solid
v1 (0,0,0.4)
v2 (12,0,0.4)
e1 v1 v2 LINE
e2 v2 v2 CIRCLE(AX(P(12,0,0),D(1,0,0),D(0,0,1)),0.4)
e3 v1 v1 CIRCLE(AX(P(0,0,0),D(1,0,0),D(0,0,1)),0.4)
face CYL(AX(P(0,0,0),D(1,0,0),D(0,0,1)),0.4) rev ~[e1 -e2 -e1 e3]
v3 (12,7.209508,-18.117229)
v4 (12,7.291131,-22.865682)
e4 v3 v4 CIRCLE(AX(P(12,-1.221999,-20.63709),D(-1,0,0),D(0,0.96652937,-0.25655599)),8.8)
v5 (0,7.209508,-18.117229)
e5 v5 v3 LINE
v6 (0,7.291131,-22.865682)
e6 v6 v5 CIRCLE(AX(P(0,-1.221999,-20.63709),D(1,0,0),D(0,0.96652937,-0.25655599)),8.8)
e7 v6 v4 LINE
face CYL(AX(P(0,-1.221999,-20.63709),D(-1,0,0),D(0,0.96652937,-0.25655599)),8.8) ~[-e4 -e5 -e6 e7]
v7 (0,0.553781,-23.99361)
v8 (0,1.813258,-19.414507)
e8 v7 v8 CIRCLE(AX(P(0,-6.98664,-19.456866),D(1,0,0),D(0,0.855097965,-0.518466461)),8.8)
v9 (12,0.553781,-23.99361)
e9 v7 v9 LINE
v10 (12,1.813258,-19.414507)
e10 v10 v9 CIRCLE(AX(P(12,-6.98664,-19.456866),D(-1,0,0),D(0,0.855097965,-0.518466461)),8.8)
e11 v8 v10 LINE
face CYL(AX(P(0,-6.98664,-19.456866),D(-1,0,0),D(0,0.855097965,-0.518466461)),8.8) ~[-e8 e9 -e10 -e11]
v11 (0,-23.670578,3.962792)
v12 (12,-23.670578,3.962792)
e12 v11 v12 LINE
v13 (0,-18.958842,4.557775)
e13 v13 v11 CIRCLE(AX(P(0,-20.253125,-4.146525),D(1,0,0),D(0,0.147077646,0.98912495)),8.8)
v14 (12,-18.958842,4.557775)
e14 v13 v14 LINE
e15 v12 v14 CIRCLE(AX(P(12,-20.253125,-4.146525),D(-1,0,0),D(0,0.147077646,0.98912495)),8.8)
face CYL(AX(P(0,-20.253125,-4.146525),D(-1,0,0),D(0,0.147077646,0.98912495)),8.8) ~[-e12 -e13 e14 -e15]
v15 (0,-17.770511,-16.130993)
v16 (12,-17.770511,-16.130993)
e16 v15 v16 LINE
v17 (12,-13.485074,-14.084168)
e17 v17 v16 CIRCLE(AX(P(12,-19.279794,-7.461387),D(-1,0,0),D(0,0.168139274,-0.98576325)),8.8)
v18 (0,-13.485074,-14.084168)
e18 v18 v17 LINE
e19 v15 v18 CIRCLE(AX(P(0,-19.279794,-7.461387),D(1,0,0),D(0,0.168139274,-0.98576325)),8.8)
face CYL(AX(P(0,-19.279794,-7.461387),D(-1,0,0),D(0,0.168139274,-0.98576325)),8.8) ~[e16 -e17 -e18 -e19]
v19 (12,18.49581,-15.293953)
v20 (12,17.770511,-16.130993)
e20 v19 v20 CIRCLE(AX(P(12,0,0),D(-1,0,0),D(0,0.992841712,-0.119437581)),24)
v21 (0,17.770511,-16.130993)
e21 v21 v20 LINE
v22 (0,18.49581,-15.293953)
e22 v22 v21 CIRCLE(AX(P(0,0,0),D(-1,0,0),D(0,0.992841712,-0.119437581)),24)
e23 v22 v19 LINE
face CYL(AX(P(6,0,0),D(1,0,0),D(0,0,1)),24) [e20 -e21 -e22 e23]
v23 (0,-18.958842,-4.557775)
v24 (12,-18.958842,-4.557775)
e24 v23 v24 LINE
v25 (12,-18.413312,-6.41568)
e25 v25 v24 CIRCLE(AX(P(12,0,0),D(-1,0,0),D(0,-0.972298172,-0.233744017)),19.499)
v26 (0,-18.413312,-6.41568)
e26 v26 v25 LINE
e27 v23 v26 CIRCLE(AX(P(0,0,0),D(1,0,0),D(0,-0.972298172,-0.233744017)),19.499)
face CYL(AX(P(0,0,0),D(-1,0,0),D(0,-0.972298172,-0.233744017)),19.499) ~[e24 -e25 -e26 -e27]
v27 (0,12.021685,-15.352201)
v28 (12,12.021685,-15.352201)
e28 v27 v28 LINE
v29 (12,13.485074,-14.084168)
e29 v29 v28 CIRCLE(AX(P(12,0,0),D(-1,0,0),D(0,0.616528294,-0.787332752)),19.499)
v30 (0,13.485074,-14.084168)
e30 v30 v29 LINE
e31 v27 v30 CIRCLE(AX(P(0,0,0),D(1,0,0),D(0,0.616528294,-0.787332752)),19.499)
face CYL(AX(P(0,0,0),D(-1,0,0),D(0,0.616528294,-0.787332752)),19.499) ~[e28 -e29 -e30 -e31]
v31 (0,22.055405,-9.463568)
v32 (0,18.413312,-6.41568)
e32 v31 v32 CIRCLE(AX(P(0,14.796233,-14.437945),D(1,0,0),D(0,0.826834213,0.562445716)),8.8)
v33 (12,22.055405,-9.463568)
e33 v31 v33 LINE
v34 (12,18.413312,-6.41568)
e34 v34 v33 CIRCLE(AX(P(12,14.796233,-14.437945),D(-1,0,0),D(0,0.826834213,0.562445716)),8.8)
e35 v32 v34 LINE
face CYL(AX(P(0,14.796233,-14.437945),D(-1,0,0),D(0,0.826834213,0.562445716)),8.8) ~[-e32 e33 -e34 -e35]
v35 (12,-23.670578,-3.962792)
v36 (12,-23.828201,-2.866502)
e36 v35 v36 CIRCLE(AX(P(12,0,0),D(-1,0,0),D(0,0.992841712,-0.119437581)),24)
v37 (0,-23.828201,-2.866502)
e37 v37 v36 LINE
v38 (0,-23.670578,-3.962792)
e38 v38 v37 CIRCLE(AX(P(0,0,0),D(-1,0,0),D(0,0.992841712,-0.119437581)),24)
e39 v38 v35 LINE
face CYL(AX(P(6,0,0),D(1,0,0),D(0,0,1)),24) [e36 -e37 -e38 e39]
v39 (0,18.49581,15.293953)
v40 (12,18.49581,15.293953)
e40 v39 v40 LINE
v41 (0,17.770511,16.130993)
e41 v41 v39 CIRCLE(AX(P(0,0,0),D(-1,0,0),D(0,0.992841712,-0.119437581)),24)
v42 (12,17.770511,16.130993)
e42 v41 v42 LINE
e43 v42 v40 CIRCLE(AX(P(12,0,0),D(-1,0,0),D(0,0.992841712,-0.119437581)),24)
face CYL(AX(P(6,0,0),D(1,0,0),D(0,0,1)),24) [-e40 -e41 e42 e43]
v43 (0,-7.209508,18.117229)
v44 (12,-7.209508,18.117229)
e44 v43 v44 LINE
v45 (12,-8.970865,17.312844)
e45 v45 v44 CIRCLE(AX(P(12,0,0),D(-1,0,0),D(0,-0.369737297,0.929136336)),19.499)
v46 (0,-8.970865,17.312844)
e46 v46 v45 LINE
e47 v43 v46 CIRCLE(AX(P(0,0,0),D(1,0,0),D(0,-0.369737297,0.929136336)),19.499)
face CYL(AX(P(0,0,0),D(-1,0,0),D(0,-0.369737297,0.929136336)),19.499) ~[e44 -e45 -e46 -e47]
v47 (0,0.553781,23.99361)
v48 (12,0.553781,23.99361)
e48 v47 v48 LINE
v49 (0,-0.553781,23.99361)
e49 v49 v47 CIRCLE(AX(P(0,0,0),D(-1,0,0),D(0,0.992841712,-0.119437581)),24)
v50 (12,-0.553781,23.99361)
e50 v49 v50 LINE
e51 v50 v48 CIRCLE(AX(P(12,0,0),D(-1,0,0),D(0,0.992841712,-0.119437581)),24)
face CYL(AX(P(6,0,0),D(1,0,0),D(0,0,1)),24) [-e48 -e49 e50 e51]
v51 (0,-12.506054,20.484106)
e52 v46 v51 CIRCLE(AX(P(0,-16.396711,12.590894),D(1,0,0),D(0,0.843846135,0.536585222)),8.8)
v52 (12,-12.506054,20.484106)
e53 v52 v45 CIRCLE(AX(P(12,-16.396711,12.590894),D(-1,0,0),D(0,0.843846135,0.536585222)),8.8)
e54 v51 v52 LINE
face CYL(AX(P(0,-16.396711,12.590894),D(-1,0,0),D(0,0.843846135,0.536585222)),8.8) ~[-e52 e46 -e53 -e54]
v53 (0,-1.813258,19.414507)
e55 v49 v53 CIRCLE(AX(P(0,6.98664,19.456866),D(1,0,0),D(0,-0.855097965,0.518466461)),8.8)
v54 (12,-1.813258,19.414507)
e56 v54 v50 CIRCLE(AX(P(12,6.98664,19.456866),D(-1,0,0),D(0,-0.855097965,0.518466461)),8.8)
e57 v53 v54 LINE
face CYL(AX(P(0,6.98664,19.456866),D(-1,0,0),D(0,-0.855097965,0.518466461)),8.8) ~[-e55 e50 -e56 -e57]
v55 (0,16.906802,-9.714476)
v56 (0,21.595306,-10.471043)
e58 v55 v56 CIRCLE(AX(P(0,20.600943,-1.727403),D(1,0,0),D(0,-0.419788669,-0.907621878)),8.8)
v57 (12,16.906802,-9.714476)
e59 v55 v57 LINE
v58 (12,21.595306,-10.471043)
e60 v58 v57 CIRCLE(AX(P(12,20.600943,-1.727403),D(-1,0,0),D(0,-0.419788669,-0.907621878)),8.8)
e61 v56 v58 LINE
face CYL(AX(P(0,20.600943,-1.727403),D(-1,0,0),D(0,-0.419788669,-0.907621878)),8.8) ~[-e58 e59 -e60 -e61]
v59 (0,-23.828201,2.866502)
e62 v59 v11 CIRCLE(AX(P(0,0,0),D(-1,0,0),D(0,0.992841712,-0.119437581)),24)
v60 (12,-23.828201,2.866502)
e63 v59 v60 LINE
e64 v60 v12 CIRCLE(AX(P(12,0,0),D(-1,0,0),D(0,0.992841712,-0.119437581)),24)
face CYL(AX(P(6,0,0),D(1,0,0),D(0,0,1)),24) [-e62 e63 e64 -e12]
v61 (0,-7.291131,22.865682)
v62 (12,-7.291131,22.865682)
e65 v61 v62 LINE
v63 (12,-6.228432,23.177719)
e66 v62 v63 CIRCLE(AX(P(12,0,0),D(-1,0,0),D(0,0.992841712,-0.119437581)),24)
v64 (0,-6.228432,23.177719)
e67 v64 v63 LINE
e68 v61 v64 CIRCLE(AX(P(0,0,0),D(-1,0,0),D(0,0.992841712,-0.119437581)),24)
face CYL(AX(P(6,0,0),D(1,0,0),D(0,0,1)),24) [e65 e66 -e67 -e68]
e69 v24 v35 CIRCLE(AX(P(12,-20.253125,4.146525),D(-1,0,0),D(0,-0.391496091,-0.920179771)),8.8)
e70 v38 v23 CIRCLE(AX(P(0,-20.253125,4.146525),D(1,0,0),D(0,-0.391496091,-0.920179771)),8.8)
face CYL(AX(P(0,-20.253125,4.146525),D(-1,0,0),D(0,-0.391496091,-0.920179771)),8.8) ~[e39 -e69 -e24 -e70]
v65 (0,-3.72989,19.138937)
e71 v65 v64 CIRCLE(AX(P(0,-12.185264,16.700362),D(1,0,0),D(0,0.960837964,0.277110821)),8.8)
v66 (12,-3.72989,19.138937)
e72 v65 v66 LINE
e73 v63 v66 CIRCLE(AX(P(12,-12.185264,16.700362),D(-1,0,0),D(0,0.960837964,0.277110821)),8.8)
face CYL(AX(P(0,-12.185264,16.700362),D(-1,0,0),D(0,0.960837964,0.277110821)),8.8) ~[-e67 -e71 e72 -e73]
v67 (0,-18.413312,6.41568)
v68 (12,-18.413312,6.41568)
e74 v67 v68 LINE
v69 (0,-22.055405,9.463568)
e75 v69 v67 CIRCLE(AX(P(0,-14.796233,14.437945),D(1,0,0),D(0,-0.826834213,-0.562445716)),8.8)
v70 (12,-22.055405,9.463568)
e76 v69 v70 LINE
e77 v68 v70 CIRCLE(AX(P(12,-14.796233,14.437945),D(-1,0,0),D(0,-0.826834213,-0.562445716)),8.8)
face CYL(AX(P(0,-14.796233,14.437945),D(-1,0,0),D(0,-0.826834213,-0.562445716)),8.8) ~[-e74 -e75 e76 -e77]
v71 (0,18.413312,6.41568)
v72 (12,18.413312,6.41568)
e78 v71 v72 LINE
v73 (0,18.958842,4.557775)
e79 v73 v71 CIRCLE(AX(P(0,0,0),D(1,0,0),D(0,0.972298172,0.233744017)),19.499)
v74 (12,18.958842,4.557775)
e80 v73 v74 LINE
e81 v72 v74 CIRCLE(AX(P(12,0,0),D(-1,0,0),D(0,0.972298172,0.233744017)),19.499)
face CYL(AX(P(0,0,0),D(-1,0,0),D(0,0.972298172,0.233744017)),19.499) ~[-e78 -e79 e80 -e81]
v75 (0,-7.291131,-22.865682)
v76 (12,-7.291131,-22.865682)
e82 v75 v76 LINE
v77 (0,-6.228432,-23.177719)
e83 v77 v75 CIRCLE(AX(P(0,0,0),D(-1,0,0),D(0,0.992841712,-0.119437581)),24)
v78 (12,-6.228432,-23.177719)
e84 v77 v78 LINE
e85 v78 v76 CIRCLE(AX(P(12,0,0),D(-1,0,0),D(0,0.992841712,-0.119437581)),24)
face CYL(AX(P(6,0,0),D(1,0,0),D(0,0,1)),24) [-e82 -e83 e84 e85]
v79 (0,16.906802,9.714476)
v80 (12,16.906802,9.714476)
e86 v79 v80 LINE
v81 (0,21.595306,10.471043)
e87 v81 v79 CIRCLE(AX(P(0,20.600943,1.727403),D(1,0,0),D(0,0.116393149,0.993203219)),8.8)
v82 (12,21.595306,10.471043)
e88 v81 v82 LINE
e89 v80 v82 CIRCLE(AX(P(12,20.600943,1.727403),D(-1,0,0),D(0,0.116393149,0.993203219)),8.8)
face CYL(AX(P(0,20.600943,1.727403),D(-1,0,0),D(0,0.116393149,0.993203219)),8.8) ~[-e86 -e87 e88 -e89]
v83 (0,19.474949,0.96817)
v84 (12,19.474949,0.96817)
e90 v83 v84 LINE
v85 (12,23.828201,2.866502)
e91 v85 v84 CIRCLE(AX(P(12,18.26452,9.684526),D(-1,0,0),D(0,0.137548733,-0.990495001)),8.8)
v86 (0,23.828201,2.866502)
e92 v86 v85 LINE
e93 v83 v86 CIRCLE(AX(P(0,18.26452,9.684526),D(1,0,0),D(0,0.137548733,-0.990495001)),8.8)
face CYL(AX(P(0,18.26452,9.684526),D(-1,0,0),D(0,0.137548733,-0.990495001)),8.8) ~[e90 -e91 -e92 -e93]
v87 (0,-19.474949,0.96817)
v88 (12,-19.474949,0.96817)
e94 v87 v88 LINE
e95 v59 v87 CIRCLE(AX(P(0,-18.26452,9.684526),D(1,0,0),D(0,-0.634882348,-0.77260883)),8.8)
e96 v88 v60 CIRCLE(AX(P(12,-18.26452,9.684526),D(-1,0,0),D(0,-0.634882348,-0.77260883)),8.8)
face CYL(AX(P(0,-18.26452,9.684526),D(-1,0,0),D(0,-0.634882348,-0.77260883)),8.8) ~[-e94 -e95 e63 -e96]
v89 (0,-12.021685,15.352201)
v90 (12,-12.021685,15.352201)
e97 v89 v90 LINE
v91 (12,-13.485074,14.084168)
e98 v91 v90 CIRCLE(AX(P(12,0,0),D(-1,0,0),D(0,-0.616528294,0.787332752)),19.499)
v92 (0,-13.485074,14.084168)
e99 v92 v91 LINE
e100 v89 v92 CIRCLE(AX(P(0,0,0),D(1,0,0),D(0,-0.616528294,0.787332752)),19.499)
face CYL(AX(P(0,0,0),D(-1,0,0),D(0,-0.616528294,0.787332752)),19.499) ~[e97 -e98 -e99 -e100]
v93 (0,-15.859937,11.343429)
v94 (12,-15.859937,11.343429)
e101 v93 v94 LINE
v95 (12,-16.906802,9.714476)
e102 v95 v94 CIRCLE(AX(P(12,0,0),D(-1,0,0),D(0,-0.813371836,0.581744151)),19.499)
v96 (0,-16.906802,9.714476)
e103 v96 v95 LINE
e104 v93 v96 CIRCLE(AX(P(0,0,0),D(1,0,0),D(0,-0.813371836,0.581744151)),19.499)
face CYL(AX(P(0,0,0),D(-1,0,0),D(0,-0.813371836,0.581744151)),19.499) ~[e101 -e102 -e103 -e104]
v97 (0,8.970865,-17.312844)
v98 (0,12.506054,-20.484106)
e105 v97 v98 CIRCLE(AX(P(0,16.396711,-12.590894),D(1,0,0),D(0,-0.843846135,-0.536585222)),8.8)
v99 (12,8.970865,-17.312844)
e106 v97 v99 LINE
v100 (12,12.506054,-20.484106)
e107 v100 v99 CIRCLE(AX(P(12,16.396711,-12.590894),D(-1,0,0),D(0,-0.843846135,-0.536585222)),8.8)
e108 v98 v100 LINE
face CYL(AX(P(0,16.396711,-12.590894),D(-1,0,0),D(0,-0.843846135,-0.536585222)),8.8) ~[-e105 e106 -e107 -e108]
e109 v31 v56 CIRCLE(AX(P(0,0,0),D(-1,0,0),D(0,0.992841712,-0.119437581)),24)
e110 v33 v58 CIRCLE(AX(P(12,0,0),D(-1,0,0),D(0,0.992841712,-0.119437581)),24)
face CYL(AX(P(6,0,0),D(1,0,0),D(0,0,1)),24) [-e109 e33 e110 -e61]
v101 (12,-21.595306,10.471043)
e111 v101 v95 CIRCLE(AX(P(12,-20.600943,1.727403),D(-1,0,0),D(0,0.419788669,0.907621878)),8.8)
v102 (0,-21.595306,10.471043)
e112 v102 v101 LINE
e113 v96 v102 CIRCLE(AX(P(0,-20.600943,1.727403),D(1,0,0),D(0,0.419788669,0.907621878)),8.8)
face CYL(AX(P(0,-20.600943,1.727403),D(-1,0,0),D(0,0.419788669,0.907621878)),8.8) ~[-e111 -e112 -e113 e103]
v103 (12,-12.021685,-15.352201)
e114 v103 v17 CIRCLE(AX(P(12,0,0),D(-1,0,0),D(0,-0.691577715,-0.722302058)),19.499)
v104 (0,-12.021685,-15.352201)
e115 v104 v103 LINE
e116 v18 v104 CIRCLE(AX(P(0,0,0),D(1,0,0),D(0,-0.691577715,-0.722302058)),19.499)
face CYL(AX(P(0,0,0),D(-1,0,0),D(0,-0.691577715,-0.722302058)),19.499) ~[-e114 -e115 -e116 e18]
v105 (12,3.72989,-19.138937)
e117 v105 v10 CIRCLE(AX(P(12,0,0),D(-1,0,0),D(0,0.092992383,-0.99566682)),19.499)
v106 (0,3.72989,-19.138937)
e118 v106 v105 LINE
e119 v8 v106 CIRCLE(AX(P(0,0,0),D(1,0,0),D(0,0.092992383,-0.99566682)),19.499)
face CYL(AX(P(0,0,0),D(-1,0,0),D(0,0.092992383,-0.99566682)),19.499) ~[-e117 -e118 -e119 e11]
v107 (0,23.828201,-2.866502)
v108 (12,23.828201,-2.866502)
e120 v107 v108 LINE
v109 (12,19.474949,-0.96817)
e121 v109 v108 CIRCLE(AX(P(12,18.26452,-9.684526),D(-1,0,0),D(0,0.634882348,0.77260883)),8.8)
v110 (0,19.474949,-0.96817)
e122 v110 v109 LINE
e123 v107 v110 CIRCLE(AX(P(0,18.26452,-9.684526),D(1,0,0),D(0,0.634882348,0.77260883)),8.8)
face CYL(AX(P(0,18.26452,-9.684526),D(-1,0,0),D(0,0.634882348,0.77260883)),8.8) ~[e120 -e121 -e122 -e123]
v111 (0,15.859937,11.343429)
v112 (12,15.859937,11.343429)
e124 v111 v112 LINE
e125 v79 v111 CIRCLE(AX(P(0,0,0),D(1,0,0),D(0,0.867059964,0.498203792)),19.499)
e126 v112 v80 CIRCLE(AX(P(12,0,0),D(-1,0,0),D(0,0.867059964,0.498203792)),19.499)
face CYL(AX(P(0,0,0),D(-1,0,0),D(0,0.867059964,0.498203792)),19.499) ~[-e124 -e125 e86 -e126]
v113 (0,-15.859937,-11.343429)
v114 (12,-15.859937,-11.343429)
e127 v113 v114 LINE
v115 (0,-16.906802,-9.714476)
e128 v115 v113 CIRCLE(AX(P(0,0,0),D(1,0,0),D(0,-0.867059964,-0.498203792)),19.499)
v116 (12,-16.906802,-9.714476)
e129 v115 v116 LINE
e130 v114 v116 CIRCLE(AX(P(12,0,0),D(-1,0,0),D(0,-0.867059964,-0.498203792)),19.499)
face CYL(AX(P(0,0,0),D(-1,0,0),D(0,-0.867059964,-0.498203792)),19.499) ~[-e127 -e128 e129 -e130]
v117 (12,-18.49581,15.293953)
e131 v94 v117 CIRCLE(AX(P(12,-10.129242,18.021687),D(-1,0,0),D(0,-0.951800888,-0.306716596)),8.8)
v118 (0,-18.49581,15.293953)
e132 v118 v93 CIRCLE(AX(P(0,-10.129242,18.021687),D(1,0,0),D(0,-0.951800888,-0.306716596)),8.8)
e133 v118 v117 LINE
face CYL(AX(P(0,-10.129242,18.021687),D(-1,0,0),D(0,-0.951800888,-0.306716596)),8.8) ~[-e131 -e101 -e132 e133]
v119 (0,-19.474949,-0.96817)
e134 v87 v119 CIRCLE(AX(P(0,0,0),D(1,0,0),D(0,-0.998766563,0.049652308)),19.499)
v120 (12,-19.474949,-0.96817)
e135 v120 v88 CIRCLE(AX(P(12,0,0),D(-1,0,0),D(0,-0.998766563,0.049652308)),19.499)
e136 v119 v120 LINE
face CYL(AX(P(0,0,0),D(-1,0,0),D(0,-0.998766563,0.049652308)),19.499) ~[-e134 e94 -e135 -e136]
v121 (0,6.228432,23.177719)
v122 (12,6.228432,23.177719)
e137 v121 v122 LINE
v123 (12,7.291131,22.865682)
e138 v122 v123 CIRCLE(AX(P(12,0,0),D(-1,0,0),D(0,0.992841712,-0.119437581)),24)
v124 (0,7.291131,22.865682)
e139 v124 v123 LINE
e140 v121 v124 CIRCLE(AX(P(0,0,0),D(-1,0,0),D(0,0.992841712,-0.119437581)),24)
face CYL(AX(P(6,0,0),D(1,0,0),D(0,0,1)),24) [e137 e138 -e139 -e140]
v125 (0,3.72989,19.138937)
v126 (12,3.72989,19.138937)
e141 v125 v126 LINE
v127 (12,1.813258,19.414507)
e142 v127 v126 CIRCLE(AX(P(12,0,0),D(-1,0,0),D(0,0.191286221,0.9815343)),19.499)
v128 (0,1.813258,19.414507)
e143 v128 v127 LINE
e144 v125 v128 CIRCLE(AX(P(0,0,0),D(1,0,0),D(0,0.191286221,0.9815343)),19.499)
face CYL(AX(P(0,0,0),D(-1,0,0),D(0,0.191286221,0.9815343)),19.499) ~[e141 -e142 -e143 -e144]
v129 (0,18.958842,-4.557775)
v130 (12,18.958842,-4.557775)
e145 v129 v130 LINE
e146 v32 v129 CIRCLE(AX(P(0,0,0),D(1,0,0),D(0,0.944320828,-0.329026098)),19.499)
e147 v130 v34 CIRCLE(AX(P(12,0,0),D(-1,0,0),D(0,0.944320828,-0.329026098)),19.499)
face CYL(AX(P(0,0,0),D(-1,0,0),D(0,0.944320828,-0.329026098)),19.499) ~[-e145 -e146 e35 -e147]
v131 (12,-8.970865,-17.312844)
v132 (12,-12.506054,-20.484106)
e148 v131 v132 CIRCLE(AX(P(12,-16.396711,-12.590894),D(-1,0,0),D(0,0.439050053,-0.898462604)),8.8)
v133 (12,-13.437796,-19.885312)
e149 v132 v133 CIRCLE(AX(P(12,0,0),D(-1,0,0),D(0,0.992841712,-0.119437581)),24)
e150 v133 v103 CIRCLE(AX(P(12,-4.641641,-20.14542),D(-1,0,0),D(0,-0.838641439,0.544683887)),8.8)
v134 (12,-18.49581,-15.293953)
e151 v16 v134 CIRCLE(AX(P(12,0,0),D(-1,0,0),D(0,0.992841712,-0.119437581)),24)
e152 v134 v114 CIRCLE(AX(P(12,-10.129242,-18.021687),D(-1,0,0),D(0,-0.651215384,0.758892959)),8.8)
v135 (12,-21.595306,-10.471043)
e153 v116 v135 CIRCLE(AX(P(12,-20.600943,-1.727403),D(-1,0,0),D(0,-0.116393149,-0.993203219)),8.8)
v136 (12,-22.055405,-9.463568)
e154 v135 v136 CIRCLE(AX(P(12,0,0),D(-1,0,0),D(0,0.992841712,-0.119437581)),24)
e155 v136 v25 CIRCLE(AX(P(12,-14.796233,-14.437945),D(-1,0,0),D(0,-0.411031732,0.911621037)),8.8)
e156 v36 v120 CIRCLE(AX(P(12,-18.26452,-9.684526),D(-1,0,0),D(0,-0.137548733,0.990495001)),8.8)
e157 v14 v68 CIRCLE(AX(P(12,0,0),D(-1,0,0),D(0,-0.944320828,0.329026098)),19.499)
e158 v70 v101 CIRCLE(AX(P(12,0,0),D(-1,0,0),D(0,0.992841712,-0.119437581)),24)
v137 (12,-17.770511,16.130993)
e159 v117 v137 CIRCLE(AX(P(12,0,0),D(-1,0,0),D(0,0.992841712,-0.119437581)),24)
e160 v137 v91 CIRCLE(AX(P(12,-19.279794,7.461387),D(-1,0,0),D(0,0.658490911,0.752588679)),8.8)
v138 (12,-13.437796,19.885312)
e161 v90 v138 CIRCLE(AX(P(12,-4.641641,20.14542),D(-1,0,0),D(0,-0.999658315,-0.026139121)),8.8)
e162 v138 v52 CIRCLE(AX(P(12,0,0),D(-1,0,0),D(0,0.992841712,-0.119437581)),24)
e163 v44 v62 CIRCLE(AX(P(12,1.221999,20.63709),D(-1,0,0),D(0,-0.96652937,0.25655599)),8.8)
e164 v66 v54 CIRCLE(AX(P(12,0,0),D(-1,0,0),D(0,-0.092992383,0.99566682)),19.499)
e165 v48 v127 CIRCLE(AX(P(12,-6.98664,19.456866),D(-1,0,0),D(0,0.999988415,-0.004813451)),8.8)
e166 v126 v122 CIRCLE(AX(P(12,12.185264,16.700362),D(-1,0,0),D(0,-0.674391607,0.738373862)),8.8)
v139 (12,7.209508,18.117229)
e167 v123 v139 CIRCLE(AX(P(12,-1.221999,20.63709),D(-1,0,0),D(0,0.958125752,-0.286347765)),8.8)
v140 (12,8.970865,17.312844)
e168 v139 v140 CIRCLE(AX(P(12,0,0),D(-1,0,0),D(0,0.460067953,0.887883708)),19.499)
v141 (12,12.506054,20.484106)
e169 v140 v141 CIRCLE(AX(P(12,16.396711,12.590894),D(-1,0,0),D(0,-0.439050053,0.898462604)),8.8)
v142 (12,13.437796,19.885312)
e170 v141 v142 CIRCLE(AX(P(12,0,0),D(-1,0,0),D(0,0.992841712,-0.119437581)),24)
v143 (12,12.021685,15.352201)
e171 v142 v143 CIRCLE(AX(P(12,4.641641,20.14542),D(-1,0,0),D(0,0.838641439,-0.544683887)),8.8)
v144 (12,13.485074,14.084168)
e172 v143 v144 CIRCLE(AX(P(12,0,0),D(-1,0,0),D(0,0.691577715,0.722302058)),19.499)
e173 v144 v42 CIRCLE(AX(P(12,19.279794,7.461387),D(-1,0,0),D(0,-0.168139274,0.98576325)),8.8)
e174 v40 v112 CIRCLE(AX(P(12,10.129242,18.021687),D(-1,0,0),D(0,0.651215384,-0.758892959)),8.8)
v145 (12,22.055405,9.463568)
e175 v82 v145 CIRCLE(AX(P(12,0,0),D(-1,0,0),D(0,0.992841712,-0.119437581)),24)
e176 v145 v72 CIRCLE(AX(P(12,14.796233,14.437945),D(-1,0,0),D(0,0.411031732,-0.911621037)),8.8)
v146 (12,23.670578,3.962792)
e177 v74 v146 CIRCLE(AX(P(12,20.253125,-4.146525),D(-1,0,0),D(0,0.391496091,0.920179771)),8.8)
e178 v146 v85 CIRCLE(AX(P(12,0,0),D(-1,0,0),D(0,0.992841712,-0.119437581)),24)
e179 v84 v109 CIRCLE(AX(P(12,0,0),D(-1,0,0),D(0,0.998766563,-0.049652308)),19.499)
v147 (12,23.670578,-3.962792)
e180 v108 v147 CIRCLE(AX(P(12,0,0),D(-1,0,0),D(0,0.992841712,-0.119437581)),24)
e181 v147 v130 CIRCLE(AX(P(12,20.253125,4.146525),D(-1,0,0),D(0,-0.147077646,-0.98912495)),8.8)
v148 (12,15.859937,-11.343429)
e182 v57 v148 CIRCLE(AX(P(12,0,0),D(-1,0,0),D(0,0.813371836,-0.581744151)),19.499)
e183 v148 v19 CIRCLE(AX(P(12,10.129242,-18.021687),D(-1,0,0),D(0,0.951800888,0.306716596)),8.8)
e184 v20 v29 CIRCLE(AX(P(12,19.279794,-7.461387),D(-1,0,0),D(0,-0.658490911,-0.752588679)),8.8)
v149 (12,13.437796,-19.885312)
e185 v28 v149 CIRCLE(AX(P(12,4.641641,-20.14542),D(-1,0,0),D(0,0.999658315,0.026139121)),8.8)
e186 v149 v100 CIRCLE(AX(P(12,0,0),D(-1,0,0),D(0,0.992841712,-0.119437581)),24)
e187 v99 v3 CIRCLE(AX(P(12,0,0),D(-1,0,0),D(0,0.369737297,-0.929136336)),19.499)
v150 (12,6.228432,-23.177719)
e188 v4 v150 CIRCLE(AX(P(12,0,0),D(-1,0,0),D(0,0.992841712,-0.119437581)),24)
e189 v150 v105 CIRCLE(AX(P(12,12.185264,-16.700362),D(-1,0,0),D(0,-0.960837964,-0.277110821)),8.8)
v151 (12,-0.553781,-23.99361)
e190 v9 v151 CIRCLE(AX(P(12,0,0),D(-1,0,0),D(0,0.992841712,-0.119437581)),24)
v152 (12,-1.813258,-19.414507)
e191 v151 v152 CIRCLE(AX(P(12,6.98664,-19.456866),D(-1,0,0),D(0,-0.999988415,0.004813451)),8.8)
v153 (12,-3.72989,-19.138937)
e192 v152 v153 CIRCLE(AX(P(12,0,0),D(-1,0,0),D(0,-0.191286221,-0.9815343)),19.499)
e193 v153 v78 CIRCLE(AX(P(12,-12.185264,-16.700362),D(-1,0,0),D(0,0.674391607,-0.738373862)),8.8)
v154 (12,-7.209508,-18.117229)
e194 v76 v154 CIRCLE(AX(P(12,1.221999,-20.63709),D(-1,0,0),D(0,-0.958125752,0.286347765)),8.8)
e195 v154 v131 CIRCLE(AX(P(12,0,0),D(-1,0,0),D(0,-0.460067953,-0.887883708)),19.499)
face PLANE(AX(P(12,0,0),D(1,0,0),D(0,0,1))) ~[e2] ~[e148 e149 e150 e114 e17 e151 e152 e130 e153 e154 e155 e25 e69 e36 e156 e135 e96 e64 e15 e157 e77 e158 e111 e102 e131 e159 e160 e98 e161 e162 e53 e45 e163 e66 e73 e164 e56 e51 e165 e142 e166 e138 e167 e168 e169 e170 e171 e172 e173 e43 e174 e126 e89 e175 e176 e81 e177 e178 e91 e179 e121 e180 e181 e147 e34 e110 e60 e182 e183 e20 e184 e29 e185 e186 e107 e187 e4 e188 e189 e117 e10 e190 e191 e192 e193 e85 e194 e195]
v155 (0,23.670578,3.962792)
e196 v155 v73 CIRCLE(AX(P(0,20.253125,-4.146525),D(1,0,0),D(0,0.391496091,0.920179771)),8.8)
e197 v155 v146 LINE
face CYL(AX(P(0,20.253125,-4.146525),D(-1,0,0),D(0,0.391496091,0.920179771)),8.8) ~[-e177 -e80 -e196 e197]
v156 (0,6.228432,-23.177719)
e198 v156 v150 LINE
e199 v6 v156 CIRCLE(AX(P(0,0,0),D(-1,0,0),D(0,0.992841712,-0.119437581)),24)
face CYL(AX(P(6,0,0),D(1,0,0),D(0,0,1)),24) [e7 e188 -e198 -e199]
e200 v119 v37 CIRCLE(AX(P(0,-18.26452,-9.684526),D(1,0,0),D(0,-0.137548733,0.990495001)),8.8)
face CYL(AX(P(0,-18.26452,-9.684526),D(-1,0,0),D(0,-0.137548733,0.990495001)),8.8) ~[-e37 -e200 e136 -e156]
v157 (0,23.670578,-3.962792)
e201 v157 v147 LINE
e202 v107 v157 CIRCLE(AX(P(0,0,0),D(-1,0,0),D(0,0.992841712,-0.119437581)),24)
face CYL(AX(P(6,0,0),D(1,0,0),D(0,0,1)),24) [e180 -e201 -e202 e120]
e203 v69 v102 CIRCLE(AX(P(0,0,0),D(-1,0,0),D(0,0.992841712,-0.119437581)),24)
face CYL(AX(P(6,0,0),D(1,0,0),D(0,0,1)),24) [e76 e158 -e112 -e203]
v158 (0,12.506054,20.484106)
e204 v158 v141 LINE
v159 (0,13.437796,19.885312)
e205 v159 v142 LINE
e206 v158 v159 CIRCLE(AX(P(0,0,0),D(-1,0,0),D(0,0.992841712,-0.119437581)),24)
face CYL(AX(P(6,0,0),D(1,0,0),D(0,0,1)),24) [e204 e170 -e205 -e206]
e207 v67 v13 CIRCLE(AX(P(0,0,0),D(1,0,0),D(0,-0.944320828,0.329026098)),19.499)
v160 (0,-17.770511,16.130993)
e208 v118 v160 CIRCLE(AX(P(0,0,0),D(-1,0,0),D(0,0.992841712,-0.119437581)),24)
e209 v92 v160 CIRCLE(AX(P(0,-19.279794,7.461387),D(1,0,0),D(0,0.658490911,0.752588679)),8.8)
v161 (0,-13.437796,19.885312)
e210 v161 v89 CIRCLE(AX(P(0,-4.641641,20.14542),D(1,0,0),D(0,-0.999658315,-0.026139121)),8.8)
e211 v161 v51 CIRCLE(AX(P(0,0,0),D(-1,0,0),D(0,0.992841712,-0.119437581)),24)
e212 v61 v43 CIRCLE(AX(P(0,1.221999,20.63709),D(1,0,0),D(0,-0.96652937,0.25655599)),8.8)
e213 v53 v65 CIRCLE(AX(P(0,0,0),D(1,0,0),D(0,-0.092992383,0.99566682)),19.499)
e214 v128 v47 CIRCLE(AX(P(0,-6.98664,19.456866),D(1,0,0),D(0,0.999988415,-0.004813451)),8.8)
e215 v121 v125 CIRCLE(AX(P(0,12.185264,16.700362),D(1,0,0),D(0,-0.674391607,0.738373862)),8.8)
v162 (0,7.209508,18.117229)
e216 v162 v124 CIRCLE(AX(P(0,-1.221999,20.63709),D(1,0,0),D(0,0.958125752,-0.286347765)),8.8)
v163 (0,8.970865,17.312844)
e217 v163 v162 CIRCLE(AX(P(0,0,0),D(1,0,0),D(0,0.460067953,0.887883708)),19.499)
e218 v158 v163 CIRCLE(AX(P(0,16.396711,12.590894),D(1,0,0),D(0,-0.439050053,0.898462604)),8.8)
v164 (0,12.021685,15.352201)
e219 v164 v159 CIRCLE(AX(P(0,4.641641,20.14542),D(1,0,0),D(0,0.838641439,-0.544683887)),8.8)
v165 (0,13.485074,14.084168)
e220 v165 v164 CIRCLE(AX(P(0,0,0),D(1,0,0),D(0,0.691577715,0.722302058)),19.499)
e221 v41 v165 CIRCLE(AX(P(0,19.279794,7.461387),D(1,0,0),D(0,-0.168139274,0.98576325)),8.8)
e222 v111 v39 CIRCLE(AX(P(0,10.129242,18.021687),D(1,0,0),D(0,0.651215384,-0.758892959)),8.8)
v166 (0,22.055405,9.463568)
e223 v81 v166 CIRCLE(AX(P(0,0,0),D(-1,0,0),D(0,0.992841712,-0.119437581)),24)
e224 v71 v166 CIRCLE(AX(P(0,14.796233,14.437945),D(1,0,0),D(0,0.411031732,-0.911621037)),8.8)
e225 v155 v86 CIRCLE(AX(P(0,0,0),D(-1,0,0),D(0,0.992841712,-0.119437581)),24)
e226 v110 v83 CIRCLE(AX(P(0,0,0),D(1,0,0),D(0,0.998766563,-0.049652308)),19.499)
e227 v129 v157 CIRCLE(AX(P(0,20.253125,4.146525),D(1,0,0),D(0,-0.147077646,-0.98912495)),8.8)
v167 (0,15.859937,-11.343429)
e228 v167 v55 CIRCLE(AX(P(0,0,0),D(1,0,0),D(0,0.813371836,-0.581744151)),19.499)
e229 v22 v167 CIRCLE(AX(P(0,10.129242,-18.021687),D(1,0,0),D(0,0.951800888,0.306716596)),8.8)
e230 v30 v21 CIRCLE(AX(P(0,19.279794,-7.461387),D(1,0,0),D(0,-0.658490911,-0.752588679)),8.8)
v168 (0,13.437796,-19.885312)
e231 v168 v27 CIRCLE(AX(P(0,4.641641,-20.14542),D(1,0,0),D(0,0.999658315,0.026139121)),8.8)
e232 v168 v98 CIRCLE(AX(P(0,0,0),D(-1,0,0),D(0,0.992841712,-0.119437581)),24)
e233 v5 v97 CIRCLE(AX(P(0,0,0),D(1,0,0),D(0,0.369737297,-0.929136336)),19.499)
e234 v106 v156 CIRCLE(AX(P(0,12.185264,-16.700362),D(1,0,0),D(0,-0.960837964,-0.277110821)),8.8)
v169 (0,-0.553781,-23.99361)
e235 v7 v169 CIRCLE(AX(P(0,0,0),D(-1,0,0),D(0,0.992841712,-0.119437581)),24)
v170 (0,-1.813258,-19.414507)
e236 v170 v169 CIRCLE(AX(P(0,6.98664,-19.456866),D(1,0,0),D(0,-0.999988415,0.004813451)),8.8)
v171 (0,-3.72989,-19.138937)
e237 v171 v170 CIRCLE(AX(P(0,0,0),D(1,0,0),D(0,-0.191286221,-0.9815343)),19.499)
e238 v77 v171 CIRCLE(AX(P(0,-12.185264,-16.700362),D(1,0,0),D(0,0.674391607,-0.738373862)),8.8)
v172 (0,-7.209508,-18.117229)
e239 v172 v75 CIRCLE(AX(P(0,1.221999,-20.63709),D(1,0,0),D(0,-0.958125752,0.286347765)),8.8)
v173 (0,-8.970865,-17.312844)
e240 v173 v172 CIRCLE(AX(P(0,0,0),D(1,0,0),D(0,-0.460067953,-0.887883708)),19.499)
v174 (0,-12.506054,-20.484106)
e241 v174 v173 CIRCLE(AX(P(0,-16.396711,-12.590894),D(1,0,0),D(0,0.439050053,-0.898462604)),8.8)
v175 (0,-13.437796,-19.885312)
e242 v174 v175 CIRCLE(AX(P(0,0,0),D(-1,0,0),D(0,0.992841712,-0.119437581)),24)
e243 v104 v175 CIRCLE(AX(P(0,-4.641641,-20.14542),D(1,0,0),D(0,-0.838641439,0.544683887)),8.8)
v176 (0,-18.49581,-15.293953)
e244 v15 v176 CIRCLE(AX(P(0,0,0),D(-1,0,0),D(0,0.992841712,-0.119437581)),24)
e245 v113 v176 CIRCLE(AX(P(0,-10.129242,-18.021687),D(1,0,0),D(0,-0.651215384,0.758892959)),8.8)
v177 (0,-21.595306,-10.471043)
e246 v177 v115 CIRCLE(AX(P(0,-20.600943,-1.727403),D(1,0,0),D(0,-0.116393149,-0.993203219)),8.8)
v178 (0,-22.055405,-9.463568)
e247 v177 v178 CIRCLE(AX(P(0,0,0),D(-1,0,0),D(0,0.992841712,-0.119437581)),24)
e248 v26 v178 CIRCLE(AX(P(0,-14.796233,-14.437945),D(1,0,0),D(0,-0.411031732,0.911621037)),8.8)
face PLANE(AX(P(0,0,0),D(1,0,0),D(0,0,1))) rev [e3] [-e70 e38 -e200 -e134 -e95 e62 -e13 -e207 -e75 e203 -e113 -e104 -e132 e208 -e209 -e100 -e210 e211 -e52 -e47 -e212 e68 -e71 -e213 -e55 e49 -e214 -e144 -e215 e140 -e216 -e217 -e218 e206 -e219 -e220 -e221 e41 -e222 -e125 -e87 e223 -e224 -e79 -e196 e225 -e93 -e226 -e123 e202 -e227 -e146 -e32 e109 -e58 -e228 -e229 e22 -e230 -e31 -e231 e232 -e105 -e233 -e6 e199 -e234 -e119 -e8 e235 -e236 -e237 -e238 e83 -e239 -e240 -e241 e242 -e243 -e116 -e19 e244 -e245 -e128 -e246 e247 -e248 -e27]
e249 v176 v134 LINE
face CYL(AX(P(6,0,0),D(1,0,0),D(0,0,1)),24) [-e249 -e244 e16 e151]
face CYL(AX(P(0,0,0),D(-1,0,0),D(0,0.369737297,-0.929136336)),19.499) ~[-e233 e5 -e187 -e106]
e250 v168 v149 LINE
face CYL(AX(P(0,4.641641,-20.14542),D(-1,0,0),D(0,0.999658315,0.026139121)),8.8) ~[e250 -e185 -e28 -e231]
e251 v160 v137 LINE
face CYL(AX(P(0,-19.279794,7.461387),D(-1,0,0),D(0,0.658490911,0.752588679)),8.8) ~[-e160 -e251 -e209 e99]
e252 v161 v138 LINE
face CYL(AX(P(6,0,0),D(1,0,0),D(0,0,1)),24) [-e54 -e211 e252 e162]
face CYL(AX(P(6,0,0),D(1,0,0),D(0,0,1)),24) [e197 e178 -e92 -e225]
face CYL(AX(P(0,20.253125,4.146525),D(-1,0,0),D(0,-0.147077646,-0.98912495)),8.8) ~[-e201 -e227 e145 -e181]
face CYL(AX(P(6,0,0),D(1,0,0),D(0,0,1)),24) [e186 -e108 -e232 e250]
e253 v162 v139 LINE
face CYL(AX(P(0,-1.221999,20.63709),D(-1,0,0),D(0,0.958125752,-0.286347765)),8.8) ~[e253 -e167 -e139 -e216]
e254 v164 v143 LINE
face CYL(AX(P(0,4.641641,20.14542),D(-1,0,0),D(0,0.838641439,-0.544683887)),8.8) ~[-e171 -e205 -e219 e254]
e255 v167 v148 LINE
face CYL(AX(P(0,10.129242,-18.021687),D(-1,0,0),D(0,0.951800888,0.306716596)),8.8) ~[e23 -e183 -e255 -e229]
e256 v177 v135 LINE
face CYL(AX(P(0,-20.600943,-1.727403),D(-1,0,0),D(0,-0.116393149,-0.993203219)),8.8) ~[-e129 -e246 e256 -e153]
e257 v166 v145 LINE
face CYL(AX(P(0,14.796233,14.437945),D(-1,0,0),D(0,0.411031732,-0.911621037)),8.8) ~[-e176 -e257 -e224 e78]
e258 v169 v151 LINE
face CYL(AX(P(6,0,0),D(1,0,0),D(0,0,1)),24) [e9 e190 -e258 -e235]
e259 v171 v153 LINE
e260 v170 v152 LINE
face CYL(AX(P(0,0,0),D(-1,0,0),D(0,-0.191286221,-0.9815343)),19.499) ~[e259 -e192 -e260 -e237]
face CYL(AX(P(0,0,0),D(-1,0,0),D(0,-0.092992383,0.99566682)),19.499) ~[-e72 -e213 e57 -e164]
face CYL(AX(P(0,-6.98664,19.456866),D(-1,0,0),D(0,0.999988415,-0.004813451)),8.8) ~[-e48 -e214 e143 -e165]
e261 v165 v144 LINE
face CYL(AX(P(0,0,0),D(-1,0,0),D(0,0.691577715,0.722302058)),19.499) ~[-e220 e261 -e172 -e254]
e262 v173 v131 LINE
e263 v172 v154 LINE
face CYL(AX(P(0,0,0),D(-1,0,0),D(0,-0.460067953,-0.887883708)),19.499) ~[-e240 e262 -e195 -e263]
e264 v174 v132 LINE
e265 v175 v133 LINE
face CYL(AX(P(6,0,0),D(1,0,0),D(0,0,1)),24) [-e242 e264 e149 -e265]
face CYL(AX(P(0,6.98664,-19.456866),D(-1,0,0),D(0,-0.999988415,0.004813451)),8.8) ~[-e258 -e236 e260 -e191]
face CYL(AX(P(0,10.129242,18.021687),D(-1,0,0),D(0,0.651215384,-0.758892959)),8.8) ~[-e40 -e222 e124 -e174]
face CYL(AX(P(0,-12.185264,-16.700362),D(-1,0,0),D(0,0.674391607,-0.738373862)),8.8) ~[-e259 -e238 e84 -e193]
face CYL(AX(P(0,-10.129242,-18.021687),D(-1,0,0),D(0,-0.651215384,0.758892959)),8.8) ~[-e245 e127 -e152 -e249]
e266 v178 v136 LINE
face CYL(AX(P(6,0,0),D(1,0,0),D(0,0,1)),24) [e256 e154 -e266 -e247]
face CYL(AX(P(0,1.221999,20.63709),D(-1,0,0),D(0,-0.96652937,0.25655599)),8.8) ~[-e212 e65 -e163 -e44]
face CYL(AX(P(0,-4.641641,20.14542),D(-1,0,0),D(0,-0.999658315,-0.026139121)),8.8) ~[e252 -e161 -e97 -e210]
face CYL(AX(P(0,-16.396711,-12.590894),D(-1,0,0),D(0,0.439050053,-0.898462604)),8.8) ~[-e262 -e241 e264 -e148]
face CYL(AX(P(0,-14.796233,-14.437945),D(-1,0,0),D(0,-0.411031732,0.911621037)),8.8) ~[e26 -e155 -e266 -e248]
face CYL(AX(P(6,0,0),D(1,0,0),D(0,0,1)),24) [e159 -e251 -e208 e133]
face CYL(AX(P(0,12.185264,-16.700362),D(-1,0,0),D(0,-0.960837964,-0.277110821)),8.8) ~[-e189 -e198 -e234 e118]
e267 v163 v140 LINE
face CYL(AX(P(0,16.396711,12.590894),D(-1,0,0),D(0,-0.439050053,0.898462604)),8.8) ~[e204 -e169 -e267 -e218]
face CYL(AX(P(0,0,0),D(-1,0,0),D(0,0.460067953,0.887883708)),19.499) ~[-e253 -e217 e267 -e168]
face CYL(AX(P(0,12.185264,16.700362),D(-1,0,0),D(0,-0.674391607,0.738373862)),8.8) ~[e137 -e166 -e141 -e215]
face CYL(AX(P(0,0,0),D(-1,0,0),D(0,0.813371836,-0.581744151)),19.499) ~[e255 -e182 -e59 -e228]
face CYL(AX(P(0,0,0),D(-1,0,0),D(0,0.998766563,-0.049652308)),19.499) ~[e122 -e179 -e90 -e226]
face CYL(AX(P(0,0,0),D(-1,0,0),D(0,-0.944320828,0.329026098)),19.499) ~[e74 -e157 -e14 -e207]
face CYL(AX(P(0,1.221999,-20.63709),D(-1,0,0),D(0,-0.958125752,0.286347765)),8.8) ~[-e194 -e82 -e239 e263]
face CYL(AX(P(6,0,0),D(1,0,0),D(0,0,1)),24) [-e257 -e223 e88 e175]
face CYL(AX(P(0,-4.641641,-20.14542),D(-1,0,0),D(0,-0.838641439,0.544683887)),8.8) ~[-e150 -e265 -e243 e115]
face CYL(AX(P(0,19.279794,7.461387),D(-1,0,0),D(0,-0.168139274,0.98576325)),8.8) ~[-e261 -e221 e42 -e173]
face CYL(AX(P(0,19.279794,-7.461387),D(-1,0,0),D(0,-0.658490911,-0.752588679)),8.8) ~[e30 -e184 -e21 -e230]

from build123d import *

# Parameters (mm, degrees)
BASPROSKE_W     = 12
BASPROSKE_H     = 24
TOOTHCUT_DEPTH  = 37
TEETHCUTS_COUNT = 22
TEETHCUTS_ANGLE = 343.636363636
BORSKE_R        = 0.4
BORE_DEPTH      = 50.0000508


with BuildPart() as part:
    # BasProSke → Base-Revolve (revolve)
    with BuildSketch(Plane(origin=(0, 0, 0), x_dir=(1, 0, 0), z_dir=(0, 1, 0)), mode=Mode.PRIVATE) as base_revolve_sk:
        with Locations((6, 12)):
            Rectangle(BASPROSKE_W, BASPROSKE_H)
    revolve(base_revolve_sk.sketch.rotate(Axis((-10, 0, 0), (1, 0, 0)), 180), axis=Axis((-10, 0, 0), (1, 0, 0)))

    # TooCutSke → ToothCut (cut, through all)
    with BuildSketch(Plane(origin=(0, 0, 0), x_dir=(0, 0, -1), z_dir=(1, 0, 0))):
        with BuildLine():
            ThreePointArc((0.968170358, 19.474949221), (0, 19.499), (-0.968170358, 19.474949221))
            ThreePointArc((-0.968170358, 19.474949221), (-1.624144469, 21.795843598), (-2.885568663, 23.851485041))
            ThreePointArc((-2.885568663, 23.851485041), (0, 24.0254), (2.885568663, 23.851485041))
            ThreePointArc((2.885568663, 23.851485041), (1.624144469, 21.795843598), (0.968170358, 19.474949221))
        make_face()
    toothcut = extrude(amount=TOOTHCUT_DEPTH, mode=Mode.SUBTRACT)

    # TeethCuts: ToothCut ×22 about axis
    teethcuts_axis = Axis((-10, 0, 0), (1, 0, 0))
    for i in range(1, TEETHCUTS_COUNT):
        add(toothcut.rotate(teethcuts_axis, i * TEETHCUTS_ANGLE / (TEETHCUTS_COUNT - 1)), mode=Mode.SUBTRACT)

    # BorSke → Bore (cut, symmetric)
    with BuildSketch(Plane(origin=(0, 0, 0), x_dir=(0, 0, -1), z_dir=(1, 0, 0))):
        with Locations(Location((0, 0, 0), (0, 0, 180))):
            Circle(BORSKE_R)
    extrude(amount=BORE_DEPTH, both=True, mode=Mode.SUBTRACT)


solid = part.part
